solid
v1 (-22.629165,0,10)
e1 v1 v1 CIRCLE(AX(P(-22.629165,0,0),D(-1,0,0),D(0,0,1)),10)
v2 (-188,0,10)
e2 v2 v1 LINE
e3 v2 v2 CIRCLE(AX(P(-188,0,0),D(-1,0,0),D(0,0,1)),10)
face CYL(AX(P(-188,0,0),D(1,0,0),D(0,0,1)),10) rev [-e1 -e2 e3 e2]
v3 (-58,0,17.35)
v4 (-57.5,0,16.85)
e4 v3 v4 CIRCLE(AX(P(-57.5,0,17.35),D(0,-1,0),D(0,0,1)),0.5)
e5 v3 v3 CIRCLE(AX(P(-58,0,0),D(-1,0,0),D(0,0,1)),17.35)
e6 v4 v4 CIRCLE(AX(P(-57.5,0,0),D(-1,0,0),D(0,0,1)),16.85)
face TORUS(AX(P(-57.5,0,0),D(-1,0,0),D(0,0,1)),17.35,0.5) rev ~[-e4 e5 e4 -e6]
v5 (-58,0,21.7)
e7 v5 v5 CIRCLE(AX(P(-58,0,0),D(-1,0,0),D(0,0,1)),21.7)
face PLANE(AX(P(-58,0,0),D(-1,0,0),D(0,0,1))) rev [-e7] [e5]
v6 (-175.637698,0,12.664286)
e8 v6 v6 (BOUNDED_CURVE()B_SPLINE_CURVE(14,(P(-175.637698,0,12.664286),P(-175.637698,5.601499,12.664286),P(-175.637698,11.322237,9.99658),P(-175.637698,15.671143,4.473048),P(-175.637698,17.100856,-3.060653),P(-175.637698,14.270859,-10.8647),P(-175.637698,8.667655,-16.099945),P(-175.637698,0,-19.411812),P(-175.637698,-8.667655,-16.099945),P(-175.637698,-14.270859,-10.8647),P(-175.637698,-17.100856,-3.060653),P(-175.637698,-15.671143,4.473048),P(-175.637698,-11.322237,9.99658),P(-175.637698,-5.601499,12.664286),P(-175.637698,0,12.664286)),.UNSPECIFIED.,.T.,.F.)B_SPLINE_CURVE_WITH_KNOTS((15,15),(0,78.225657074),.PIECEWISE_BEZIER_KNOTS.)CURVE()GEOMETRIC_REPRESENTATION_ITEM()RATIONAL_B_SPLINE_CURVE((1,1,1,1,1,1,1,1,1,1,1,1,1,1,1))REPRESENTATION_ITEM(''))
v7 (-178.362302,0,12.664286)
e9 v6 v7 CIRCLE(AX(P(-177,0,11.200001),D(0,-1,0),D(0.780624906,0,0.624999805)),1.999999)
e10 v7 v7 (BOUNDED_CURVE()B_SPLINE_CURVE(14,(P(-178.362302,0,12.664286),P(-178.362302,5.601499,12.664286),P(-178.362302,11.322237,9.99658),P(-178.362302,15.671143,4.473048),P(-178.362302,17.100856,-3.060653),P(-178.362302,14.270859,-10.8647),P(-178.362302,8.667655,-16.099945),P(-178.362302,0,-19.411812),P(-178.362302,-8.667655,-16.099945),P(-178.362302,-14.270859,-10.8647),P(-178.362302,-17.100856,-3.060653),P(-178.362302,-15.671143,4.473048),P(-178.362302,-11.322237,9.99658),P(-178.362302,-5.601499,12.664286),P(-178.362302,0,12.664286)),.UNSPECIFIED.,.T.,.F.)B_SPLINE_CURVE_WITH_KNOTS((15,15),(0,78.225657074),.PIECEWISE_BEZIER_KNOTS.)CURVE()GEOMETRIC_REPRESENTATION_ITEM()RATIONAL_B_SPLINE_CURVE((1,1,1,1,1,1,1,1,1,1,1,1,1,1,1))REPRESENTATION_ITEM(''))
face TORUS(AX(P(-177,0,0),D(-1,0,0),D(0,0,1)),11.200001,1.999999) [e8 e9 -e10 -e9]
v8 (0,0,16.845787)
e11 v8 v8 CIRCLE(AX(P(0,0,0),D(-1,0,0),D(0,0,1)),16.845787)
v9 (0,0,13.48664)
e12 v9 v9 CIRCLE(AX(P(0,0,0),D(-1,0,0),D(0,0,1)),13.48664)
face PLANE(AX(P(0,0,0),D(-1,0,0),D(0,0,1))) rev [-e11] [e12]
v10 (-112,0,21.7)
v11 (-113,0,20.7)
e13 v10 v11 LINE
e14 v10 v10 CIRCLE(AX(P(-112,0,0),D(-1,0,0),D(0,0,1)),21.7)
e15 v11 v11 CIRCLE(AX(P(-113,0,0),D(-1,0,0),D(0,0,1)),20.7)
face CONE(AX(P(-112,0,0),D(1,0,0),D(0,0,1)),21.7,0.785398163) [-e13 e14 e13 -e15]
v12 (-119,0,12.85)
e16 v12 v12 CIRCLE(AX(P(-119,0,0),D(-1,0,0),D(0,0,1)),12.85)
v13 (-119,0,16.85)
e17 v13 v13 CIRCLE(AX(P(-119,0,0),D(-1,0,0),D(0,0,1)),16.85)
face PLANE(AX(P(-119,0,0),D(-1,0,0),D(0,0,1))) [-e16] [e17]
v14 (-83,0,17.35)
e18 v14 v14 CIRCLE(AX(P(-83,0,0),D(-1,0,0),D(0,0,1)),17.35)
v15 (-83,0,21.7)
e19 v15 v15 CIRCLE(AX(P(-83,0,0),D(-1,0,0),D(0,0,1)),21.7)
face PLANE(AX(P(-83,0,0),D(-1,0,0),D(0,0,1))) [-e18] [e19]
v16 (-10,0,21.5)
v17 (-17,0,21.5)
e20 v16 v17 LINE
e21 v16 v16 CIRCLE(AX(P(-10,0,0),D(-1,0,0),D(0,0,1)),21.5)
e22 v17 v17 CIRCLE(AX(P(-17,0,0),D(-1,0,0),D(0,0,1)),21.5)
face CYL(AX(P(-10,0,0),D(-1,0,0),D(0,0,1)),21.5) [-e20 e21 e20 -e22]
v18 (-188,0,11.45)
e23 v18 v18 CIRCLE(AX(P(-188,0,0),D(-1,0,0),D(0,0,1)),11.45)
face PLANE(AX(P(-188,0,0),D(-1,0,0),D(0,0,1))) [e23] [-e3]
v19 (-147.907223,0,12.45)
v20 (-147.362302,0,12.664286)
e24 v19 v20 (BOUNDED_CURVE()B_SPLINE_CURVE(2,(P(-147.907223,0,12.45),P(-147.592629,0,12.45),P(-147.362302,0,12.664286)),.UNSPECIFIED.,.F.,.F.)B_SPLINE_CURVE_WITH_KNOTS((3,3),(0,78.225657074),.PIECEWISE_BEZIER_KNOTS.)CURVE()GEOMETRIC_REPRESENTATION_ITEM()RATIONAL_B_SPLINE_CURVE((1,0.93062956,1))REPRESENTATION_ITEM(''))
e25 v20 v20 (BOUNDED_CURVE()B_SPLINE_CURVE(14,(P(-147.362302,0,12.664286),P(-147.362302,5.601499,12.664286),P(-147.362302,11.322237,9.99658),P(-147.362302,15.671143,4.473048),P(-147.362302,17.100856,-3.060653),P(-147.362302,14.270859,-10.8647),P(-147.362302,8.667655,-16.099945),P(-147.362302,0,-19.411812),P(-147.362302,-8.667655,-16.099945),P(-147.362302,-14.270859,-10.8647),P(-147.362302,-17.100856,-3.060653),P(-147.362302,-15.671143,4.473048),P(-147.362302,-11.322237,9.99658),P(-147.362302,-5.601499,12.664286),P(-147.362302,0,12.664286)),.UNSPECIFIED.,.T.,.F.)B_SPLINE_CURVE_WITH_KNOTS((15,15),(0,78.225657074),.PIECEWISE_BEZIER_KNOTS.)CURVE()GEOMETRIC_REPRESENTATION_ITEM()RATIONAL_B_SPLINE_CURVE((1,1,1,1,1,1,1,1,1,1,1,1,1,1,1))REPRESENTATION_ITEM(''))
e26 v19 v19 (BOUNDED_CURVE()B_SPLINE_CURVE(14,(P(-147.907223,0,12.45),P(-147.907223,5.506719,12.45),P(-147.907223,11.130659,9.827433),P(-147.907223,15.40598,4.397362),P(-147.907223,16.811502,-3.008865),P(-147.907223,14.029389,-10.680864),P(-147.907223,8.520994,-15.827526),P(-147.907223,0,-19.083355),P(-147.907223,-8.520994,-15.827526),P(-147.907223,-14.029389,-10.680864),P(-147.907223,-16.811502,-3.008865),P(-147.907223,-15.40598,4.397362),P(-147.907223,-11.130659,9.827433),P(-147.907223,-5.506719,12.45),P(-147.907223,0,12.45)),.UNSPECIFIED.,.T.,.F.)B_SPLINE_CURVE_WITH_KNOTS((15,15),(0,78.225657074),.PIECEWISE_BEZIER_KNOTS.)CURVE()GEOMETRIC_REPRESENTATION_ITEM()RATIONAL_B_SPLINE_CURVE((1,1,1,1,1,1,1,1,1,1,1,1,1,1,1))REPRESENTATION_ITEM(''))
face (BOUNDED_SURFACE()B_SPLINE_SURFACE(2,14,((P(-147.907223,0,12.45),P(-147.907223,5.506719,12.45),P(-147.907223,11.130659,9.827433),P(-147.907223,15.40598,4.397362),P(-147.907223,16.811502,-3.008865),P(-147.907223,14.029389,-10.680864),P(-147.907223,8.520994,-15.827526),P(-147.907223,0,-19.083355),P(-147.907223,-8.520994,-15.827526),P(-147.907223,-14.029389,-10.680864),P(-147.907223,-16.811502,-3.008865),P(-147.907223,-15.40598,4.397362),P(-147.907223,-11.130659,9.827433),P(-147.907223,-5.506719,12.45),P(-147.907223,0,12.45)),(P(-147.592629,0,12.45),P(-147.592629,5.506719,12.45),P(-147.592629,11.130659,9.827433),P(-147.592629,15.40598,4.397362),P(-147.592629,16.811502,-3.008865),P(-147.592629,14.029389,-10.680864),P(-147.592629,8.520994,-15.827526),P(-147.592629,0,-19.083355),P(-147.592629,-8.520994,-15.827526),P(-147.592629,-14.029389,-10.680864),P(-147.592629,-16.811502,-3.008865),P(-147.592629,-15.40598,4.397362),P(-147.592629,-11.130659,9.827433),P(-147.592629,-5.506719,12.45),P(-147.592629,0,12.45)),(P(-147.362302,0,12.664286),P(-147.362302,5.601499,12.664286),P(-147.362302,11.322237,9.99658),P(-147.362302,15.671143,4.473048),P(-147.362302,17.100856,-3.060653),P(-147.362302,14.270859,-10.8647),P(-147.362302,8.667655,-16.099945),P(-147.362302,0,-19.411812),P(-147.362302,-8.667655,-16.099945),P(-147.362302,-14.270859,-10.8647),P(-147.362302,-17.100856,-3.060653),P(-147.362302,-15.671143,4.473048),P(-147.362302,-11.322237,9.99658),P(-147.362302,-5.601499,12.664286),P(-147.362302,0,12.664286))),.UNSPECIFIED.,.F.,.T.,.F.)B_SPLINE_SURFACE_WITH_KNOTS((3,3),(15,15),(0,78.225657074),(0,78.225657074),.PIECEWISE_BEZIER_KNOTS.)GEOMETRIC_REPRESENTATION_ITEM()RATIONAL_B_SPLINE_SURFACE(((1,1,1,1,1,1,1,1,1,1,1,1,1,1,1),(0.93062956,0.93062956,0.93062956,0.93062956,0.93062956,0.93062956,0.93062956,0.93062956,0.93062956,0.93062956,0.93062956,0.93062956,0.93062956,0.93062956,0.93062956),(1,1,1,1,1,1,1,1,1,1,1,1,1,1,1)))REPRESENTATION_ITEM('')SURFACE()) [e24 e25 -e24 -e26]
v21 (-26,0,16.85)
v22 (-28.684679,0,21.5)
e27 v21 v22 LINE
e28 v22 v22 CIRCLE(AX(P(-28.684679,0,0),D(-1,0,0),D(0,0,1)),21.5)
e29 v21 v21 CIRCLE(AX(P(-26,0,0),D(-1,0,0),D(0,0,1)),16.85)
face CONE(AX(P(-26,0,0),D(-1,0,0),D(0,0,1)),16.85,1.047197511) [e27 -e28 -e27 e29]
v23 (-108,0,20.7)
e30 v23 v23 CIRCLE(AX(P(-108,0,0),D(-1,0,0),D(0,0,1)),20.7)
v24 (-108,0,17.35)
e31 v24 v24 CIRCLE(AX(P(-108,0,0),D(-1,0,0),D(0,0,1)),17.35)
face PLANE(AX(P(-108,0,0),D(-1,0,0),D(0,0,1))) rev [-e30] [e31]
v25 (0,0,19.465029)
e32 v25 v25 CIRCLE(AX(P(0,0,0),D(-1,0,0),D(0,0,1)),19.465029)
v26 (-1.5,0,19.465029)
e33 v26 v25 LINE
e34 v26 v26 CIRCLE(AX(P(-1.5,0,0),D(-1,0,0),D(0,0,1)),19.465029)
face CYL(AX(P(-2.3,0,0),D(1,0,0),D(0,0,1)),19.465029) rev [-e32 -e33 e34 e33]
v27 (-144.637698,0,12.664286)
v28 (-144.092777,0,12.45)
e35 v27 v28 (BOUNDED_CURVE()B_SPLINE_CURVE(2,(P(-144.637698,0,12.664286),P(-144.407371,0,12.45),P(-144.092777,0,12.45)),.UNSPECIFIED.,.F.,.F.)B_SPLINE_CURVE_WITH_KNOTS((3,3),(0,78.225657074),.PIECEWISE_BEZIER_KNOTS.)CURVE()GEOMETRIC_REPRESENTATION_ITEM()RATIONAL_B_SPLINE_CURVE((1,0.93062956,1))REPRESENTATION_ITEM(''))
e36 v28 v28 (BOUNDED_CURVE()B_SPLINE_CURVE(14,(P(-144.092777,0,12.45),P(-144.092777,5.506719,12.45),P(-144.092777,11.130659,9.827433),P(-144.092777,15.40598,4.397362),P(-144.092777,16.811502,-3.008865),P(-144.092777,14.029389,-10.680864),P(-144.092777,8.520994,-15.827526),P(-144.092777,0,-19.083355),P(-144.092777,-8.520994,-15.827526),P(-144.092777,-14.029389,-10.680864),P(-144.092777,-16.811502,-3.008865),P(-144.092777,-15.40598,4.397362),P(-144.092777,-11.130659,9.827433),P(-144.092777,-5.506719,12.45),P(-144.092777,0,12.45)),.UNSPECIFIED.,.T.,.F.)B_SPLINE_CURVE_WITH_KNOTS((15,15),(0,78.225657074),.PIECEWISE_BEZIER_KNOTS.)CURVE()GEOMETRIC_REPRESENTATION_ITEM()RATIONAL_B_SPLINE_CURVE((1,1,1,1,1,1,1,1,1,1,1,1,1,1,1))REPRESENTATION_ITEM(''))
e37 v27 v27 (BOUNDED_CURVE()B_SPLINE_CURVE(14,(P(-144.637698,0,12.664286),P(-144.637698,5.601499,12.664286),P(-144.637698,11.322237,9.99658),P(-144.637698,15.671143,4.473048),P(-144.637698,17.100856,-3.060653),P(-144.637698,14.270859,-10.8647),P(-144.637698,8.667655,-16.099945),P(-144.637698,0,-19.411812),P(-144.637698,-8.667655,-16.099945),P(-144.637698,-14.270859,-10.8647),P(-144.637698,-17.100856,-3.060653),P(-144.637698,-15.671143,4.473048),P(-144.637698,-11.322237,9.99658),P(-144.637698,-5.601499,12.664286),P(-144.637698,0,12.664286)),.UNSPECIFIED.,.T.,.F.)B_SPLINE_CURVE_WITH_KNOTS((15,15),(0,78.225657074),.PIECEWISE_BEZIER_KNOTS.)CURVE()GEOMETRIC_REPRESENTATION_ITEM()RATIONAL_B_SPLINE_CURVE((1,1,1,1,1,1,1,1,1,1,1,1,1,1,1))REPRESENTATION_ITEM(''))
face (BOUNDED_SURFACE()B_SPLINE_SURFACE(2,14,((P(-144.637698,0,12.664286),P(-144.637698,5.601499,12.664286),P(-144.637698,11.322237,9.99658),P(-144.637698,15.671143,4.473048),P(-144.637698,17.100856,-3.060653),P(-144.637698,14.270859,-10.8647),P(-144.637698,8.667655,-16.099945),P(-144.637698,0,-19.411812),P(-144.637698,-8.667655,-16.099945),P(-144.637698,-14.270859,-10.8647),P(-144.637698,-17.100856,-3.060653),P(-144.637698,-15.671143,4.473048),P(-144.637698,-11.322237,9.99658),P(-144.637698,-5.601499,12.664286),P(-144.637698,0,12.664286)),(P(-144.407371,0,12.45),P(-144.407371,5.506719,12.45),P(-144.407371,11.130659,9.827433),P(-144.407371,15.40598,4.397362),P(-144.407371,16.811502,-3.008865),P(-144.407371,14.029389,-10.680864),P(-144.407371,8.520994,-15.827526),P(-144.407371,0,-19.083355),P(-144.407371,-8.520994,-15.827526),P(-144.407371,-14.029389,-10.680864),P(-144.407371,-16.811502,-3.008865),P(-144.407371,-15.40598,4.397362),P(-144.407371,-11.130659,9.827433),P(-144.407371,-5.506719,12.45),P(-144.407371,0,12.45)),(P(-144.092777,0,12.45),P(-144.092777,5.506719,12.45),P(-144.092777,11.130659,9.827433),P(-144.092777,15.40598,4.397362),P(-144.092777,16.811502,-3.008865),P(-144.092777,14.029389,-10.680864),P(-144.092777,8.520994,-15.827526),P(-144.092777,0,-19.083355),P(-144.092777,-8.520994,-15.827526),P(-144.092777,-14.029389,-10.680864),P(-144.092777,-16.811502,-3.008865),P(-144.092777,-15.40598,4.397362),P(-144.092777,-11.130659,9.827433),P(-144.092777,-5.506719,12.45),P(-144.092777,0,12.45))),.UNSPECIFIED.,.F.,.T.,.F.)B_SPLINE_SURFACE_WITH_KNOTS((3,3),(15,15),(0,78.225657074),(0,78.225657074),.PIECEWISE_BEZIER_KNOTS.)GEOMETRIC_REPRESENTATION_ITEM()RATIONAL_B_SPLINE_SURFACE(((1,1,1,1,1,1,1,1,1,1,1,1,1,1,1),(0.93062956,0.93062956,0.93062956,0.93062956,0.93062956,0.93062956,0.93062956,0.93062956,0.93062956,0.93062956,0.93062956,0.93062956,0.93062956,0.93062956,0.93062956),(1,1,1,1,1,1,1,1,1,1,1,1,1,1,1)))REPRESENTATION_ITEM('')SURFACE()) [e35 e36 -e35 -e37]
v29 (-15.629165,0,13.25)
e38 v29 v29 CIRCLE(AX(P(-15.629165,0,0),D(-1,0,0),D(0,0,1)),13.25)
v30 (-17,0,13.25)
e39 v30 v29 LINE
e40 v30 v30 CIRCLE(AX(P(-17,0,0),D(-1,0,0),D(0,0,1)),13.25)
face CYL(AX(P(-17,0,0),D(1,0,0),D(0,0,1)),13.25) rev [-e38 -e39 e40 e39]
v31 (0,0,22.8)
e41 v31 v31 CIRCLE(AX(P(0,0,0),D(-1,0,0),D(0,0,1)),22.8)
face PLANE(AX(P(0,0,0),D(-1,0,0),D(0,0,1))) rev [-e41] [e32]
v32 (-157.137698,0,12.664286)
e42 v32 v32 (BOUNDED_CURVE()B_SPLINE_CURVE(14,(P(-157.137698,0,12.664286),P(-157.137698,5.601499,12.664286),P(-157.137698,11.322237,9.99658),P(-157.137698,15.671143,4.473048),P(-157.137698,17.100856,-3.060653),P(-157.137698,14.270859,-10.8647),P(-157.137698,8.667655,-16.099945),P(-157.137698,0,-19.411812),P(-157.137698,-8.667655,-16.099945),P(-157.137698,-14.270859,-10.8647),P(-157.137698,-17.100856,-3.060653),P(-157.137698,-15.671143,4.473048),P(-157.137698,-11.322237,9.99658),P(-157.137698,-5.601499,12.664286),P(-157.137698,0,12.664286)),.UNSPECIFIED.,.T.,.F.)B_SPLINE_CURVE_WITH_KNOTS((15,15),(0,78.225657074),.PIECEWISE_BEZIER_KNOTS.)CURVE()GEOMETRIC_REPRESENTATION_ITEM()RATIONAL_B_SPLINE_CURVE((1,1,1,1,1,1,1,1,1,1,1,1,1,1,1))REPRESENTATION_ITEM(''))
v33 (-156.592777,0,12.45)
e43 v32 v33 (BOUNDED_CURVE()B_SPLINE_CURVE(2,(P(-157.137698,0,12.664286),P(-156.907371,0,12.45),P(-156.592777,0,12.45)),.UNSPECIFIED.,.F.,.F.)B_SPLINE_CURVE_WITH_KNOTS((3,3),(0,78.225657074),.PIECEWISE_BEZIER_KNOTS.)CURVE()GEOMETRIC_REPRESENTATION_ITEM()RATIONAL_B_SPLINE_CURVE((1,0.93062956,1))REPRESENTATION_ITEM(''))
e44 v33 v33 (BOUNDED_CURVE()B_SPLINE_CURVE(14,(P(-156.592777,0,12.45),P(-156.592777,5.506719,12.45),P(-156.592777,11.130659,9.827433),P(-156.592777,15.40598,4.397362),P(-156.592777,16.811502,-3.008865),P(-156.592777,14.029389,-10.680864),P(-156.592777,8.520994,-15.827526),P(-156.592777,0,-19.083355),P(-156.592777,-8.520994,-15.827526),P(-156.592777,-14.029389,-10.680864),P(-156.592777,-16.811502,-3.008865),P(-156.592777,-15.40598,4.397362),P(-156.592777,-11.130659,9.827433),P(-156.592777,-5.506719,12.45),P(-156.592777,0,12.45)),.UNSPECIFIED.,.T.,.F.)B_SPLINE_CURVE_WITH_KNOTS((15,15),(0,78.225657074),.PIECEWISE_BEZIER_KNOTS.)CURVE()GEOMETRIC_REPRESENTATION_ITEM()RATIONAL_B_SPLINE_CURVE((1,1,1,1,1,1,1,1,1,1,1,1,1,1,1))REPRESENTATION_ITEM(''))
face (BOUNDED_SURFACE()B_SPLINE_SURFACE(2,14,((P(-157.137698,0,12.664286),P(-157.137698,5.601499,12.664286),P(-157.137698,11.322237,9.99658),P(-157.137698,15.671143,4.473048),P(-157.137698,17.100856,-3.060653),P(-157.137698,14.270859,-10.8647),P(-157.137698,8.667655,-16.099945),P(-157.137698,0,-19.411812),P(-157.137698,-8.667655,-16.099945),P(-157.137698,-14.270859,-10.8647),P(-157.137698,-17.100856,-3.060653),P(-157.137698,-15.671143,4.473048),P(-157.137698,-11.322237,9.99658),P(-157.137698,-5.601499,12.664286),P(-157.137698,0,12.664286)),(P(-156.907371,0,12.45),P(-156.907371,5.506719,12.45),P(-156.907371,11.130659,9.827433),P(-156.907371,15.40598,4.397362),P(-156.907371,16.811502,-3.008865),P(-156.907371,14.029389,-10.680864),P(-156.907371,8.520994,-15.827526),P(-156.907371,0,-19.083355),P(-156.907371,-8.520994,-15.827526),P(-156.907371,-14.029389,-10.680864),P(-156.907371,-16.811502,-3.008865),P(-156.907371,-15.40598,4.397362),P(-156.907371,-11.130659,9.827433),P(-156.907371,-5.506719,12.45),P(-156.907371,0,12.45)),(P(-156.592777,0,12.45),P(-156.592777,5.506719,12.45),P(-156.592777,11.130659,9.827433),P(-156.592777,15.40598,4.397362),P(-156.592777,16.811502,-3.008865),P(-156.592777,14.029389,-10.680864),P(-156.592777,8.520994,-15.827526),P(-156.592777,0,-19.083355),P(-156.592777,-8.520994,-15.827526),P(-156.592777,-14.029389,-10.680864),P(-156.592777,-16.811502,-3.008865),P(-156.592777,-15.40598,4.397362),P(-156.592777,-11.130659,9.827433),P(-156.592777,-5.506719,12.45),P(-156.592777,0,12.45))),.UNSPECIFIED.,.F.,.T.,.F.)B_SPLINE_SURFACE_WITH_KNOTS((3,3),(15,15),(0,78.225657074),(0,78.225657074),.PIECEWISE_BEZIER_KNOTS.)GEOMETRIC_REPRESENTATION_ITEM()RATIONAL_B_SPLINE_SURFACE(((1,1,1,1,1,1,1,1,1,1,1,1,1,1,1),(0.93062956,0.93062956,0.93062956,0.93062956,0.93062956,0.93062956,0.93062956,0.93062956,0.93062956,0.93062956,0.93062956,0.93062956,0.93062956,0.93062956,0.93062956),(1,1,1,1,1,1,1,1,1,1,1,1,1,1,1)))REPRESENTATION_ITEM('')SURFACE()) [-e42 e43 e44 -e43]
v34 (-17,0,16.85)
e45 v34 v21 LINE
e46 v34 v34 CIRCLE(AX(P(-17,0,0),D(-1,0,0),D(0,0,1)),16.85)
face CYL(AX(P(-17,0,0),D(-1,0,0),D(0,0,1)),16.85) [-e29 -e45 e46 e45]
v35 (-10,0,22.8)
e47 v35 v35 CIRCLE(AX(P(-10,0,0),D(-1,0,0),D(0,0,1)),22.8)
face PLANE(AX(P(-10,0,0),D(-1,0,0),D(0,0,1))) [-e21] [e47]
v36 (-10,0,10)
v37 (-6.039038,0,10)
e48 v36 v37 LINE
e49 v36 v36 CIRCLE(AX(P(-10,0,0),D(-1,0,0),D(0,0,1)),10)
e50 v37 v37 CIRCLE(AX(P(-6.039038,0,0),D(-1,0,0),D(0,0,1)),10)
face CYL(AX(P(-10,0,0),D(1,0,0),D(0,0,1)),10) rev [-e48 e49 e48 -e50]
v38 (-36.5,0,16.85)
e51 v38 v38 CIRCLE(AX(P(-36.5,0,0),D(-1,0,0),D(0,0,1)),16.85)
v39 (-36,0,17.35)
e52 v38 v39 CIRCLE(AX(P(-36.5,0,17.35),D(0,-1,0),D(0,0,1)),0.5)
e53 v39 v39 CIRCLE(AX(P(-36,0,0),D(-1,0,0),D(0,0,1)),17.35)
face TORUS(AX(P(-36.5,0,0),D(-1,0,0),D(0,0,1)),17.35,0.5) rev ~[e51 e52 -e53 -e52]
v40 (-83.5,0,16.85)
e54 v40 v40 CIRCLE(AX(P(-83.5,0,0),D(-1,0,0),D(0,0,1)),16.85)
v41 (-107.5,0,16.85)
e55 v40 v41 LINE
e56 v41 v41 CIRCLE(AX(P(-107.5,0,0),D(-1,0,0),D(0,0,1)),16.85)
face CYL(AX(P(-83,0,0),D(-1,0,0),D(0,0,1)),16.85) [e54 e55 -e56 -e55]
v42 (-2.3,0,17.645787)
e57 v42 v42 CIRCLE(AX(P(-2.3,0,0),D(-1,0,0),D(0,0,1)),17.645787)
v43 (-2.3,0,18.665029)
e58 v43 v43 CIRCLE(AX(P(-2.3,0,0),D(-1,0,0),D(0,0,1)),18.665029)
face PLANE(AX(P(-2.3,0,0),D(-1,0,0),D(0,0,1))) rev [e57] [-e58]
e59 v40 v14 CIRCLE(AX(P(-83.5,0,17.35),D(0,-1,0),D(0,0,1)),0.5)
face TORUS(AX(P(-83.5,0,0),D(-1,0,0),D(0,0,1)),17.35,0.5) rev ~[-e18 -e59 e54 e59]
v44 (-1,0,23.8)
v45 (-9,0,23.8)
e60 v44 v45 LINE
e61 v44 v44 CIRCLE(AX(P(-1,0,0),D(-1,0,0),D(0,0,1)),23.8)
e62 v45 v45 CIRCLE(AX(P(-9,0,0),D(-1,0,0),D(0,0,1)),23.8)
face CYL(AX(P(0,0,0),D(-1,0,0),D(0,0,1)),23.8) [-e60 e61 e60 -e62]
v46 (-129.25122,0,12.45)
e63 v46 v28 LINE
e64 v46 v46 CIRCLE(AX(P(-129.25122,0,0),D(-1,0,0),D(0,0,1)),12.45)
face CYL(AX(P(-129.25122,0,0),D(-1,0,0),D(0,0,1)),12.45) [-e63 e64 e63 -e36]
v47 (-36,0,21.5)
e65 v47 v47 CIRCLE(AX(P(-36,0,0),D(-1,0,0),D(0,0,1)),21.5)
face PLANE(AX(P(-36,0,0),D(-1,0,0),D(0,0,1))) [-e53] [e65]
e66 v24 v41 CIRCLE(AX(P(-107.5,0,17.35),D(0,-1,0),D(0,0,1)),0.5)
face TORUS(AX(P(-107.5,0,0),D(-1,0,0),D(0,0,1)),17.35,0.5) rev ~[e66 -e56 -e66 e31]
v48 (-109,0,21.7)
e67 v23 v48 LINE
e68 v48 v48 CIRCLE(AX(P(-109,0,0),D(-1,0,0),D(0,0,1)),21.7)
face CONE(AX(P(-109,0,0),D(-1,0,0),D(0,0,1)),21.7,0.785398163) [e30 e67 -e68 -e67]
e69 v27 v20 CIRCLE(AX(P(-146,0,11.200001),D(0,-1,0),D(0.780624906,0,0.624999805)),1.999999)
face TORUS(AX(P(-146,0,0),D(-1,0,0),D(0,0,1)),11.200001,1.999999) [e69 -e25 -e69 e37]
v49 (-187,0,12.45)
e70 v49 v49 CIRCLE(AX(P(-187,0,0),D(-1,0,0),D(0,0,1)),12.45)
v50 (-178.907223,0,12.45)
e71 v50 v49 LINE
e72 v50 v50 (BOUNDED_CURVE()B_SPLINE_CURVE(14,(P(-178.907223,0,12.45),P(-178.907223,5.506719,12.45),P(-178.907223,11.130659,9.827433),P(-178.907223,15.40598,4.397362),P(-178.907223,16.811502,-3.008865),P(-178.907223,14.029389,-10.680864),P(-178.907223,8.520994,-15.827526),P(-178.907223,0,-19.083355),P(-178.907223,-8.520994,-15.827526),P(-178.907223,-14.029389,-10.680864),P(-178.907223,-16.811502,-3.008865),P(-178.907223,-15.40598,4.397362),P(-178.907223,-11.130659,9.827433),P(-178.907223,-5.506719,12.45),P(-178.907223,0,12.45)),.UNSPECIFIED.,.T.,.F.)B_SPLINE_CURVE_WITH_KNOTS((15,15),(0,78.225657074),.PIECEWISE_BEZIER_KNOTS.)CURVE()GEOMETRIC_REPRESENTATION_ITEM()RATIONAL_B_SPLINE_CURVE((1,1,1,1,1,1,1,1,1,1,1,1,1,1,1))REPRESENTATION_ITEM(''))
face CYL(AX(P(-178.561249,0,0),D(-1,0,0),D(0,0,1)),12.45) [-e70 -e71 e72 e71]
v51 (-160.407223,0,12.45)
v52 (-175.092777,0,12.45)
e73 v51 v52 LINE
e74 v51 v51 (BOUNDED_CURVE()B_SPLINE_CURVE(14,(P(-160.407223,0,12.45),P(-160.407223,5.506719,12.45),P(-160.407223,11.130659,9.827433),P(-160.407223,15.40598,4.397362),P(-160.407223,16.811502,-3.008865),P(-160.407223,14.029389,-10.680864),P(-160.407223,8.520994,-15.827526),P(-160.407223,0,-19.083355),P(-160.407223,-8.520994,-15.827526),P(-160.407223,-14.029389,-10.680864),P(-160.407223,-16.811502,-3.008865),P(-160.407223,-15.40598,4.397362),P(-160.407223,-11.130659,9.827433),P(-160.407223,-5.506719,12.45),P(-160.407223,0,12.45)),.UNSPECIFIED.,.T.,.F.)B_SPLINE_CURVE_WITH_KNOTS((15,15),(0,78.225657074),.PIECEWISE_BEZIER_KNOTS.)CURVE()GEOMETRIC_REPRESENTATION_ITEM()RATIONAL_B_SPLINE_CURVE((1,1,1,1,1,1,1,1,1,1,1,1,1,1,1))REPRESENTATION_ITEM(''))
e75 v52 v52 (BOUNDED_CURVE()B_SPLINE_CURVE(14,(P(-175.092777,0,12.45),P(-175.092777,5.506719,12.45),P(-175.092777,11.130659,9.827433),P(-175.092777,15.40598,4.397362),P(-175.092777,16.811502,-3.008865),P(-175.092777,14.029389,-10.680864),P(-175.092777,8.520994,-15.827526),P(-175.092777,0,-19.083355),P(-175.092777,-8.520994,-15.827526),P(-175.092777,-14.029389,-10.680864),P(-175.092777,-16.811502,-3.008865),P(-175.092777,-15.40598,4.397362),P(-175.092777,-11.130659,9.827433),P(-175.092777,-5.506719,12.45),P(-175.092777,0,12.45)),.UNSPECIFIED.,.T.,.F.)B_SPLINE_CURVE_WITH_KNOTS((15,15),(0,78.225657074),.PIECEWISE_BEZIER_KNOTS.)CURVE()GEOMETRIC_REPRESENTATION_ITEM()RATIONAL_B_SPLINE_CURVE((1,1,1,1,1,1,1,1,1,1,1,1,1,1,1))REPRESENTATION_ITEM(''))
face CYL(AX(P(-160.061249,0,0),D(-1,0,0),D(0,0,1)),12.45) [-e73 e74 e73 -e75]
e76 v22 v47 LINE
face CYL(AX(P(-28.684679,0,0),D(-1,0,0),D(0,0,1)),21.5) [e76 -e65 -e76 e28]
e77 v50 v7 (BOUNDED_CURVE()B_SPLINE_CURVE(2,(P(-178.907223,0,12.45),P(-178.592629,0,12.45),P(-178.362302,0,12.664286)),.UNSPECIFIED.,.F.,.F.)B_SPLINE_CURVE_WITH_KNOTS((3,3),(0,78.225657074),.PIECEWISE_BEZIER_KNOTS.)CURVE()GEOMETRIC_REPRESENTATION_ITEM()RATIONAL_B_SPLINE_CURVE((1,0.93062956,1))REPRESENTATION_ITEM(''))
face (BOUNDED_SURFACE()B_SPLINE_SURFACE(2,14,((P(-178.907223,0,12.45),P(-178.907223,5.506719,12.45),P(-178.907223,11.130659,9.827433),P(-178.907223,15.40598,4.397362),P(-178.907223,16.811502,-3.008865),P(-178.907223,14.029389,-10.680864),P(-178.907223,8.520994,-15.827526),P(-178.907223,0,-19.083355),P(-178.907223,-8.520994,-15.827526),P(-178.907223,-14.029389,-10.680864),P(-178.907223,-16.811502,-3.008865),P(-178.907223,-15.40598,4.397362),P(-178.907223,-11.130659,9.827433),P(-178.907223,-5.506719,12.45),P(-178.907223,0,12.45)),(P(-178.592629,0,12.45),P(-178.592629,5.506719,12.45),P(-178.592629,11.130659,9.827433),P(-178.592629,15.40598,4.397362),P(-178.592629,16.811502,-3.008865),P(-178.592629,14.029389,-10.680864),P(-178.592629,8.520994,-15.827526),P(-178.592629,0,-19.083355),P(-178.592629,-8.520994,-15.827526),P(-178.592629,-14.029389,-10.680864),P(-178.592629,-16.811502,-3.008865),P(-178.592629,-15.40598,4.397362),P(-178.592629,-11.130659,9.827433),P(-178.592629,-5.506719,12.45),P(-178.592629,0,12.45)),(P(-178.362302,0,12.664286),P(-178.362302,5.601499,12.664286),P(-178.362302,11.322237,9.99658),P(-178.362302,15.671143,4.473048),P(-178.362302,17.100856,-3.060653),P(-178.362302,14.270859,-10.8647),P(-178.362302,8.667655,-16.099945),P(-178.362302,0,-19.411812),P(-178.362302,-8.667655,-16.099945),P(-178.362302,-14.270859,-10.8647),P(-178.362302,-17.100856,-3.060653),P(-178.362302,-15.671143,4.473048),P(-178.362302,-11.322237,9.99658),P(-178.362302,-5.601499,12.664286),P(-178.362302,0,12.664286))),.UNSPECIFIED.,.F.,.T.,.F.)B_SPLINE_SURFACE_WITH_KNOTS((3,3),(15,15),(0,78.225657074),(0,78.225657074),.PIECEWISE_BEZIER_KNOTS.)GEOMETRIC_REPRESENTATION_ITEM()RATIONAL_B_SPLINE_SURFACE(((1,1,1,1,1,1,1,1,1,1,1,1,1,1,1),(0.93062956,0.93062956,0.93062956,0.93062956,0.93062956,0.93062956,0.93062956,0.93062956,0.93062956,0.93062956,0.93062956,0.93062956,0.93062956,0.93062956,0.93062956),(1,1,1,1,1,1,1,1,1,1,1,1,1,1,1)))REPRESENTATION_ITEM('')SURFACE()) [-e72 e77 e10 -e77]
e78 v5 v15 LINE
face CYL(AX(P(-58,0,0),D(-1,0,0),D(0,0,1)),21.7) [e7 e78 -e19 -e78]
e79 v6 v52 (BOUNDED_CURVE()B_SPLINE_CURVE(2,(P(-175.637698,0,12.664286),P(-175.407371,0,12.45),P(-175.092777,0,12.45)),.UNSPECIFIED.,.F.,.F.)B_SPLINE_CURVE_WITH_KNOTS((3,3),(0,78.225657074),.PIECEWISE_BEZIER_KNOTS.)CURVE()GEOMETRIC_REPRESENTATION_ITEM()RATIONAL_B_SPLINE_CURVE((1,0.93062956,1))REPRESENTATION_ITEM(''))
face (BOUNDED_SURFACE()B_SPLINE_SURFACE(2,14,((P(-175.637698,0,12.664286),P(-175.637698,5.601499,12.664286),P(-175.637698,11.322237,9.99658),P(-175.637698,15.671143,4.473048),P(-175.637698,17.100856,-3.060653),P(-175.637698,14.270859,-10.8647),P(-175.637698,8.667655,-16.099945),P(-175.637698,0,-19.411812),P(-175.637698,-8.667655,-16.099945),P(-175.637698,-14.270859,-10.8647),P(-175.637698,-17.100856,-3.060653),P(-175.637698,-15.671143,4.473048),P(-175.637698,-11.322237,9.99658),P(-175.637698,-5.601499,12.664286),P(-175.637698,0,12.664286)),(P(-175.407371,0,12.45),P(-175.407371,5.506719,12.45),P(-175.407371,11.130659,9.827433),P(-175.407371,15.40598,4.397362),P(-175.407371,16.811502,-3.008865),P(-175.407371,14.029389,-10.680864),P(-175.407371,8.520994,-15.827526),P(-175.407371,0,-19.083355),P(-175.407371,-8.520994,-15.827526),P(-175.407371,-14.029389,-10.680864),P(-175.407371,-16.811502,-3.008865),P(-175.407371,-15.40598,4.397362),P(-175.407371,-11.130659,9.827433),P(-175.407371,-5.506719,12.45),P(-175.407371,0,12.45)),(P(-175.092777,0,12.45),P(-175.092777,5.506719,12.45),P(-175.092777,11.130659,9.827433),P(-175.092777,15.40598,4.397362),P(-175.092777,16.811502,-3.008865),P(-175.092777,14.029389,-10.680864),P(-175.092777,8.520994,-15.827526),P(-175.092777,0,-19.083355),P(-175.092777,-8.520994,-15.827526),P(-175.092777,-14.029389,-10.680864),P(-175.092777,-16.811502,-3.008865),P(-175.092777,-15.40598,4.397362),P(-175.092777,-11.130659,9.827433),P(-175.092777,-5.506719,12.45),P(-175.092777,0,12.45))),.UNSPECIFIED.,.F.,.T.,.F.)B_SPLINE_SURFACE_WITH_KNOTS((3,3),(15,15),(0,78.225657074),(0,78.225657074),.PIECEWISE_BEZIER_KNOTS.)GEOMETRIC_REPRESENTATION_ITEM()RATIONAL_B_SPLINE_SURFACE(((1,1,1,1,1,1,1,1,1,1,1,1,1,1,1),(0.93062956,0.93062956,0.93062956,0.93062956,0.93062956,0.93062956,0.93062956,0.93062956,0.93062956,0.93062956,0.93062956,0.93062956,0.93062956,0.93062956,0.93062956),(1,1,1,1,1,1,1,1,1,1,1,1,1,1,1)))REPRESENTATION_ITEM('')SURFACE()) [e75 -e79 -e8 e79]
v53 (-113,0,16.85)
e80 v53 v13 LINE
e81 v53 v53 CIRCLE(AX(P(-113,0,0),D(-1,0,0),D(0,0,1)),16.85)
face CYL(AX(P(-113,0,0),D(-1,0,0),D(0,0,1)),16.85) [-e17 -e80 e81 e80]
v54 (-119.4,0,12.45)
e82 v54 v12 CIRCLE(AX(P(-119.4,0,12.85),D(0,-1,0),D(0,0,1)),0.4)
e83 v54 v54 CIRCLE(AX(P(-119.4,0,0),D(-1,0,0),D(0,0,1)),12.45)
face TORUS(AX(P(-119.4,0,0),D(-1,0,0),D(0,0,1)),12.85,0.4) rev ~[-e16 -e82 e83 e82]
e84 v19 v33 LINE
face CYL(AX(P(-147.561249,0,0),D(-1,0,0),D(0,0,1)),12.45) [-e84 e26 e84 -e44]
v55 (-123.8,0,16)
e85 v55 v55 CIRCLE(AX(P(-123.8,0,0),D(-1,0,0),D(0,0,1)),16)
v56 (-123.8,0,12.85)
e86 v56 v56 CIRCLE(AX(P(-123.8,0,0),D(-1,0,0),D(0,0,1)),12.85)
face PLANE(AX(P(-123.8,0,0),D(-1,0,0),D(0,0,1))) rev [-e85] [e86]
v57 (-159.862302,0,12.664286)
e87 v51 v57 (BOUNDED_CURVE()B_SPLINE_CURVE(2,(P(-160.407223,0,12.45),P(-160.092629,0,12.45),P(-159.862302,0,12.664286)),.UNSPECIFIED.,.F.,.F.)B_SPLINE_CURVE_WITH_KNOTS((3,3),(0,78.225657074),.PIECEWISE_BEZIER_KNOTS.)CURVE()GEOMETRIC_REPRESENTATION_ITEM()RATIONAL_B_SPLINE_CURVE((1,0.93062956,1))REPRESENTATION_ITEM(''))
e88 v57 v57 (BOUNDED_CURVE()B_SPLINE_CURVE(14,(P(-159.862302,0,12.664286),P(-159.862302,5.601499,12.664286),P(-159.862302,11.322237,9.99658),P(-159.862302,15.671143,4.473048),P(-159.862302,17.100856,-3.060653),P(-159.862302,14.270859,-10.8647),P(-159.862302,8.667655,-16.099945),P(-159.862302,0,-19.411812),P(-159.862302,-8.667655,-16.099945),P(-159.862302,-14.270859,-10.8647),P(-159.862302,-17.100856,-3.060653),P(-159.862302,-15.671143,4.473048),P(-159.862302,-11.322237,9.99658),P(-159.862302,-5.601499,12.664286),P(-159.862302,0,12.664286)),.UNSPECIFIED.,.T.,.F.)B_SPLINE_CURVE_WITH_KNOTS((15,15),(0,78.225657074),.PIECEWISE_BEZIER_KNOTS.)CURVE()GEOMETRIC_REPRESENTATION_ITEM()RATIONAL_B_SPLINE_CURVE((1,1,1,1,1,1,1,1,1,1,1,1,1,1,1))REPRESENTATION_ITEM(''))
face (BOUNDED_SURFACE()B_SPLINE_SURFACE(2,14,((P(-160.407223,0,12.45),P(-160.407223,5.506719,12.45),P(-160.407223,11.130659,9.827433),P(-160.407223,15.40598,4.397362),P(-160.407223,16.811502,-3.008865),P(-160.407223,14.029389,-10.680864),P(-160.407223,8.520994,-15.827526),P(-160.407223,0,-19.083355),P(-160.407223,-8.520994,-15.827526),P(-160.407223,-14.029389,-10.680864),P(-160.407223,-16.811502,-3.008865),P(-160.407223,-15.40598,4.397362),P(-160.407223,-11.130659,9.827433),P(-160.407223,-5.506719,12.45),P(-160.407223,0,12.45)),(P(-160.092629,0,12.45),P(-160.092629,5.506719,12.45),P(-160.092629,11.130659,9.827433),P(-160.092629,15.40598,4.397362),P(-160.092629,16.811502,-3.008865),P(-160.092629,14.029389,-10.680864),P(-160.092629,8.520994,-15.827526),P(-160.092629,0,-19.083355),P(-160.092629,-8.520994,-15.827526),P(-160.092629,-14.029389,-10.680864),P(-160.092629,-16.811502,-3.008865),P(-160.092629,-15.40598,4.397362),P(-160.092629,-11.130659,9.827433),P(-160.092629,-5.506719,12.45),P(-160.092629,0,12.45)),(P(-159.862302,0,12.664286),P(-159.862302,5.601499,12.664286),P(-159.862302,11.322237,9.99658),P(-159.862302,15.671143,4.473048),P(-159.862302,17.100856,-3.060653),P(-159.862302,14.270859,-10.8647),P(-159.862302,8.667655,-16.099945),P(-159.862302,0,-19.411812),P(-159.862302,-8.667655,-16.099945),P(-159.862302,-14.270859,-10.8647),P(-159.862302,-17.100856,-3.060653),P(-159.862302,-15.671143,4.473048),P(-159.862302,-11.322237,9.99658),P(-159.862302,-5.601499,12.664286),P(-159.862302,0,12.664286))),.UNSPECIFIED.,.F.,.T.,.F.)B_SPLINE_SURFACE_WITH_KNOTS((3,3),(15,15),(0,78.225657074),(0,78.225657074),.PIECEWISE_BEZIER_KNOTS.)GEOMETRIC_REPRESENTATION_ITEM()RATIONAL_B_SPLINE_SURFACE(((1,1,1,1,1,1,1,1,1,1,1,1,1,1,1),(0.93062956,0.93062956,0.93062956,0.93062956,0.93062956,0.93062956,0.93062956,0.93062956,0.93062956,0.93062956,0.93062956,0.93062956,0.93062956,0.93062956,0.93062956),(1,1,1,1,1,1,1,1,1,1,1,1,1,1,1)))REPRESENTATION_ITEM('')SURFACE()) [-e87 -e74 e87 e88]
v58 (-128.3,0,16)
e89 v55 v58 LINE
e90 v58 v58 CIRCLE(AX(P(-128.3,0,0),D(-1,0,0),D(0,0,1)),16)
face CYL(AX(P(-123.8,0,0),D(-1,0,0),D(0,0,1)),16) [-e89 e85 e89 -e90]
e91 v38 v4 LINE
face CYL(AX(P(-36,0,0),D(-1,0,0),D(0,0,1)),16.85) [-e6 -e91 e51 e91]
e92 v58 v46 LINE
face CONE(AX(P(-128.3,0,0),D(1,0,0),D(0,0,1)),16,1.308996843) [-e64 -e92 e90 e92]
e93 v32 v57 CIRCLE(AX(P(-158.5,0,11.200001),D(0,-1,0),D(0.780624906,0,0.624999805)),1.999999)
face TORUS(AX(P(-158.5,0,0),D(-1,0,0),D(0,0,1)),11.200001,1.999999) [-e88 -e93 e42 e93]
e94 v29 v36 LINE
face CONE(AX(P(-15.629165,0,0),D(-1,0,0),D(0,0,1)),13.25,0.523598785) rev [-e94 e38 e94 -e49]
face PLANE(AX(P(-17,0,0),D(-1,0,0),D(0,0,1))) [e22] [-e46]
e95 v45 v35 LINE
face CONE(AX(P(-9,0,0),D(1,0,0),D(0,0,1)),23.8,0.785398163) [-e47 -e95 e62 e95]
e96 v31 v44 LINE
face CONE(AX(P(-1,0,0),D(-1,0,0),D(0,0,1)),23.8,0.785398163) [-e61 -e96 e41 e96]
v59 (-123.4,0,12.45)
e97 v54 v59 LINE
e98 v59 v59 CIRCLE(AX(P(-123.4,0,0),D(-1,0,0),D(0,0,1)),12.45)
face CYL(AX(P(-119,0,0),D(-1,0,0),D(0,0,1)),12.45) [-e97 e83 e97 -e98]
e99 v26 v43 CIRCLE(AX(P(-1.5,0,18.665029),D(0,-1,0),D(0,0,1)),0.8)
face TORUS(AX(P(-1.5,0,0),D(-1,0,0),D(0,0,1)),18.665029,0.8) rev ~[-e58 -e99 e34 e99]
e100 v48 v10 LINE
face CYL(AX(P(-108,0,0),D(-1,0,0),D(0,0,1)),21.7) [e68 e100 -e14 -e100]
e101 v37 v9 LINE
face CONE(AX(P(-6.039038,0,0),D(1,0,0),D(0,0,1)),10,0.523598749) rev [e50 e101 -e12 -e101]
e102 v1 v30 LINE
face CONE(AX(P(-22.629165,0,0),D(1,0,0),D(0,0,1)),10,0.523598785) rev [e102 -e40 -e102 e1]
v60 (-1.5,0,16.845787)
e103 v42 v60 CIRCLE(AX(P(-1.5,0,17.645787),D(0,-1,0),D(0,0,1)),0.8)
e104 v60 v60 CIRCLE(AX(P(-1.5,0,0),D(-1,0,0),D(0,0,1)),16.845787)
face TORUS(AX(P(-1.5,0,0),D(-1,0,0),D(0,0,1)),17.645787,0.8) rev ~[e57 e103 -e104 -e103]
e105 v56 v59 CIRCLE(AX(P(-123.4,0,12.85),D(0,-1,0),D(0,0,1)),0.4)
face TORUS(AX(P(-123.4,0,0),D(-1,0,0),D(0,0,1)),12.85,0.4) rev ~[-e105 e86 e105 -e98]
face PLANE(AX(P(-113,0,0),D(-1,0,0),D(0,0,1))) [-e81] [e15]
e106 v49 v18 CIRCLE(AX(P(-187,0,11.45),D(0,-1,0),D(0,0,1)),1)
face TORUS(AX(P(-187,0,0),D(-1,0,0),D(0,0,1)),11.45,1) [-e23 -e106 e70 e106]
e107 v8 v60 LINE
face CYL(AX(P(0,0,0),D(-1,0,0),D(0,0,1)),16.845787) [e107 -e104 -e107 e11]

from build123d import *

# Parameters (mm, degrees)
F2_SIZE = 1
F3_R    = 0.8
F4_R    = 1
F5_R    = 0.4
F6_R    = 0.5
F7_R    = 0.8


with BuildPart() as f1:
    # F0 (on Front) → F1 (revolve)
    with BuildSketch(Plane.XZ):
        with BuildLine():
            Line((0, 19.465029), (0, 23.8))
            Line((0, 23.8), (-10, 23.8))
            Line((-10, 23.8), (-10, 21.5))
            Line((-10, 21.5), (-17, 21.5))
            Line((-17, 21.5), (-17, 16.85))
            Line((-17, 16.85), (-26, 16.85))
            Line((-26, 16.85), (-28.684679, 21.5))
            Line((-28.684679, 21.5), (-36, 21.5))
            Line((-36, 21.5), (-36, 16.85))
            Line((-36, 16.85), (-58, 16.85))
            Line((-58, 16.85), (-58, 21.7))
            Line((-58, 21.7), (-83, 21.7))
            Line((-83, 21.7), (-83, 16.85))
            Line((-83, 16.85), (-108, 16.85))
            Line((-108, 16.85), (-108, 21.7))
            Line((-108, 21.7), (-113, 21.7))
            Line((-113, 21.7), (-113, 16.85))
            Line((-113, 16.85), (-119, 16.85))
            Line((-119, 16.85), (-119, 12.45))
            Line((-119, 12.45), (-123.8, 12.45))
            Line((-123.8, 12.45), (-123.8, 16))
            Line((-123.8, 16), (-128.3, 16))
            Line((-128.3, 16), (-129.25122, 12.45))
            Line((-129.25122, 12.45), (-144.438751, 12.45))
            ThreePointArc((-144.438751, 12.45), (-146, 13.2), (-147.561249, 12.45))
            Line((-147.561249, 12.45), (-156.938751, 12.45))
            ThreePointArc((-156.938751, 12.45), (-158.5, 13.2), (-160.061249, 12.45))
            Line((-160.061249, 12.45), (-175.438751, 12.45))
            ThreePointArc((-175.438751, 12.45), (-177, 13.2), (-178.561249, 12.45))
            Line((-178.561249, 12.45), (-188, 12.45))
            Line((-188, 12.45), (-188, 10))
            Line((-188, 10), (-22.629165, 10))
            Line((-22.629165, 10), (-17, 13.25))
            Line((-17, 13.25), (-15.629165, 13.25))
            Line((-15.629165, 13.25), (-10, 10))
            Line((-10, 10), (-6.039038, 10))
            Line((-6.039038, 10), (0, 13.48664))
            Line((0, 13.48664), (0, 16.845787))
            Line((0, 16.845787), (-2.3, 16.845787))
            Line((-2.3, 16.845787), (-2.3, 19.465029))
            Line((-2.3, 19.465029), (0, 19.465029))
        make_face()
    revolve(axis=Axis((-118.141681, 0, 0), (-1, 0, 0)))

    # F2
    f2_edges = [f1.edges().sort_by_distance(p)[0] for p in [
        (-108, 0, -21.7),
        (-113, 0, -21.7),
        (0, 0, -23.8),
        (-10, 0, -23.8),
    ]]
    chamfer(f2_edges, length=F2_SIZE)

    # F3
    f3_edges = [f1.edges().sort_by_distance(p)[0] for p in [
        (-175.438751, 0, -12.45),
        (-156.938751, 0, -12.45),
        (-144.438751, 0, -12.45),
        (-147.561249, 0, -12.45),
        (-160.061249, 0, -12.45),
        (-178.561249, 0, -12.45),
    ]]
    fillet(f3_edges, radius=F3_R)

    # F4
    f4_edges = [f1.edges().sort_by_distance(p)[0] for p in [
        (-188, 0, -12.45),
    ]]
    fillet(f4_edges, radius=F4_R)

    # F5
    f5_edges = [f1.edges().sort_by_distance(p)[0] for p in [
        (-119, 0, -12.45),
        (-123.8, 0, -12.45),
    ]]
    fillet(f5_edges, radius=F5_R)

    # F6
    f6_edges = [f1.edges().sort_by_distance(p)[0] for p in [
        (-83, 0, -16.85),
        (-36, 0, -16.85),
        (-58, 0, -16.85),
        (-108, 0, -16.85),
    ]]
    fillet(f6_edges, radius=F6_R)

    # F7
    f7_edges = [f1.edges().sort_by_distance(p)[0] for p in [
        (-2.3, 0, -19.465029),
        (-2.3, 0, -16.845787),
    ]]
    fillet(f7_edges, radius=F7_R)


solid = f1.part
